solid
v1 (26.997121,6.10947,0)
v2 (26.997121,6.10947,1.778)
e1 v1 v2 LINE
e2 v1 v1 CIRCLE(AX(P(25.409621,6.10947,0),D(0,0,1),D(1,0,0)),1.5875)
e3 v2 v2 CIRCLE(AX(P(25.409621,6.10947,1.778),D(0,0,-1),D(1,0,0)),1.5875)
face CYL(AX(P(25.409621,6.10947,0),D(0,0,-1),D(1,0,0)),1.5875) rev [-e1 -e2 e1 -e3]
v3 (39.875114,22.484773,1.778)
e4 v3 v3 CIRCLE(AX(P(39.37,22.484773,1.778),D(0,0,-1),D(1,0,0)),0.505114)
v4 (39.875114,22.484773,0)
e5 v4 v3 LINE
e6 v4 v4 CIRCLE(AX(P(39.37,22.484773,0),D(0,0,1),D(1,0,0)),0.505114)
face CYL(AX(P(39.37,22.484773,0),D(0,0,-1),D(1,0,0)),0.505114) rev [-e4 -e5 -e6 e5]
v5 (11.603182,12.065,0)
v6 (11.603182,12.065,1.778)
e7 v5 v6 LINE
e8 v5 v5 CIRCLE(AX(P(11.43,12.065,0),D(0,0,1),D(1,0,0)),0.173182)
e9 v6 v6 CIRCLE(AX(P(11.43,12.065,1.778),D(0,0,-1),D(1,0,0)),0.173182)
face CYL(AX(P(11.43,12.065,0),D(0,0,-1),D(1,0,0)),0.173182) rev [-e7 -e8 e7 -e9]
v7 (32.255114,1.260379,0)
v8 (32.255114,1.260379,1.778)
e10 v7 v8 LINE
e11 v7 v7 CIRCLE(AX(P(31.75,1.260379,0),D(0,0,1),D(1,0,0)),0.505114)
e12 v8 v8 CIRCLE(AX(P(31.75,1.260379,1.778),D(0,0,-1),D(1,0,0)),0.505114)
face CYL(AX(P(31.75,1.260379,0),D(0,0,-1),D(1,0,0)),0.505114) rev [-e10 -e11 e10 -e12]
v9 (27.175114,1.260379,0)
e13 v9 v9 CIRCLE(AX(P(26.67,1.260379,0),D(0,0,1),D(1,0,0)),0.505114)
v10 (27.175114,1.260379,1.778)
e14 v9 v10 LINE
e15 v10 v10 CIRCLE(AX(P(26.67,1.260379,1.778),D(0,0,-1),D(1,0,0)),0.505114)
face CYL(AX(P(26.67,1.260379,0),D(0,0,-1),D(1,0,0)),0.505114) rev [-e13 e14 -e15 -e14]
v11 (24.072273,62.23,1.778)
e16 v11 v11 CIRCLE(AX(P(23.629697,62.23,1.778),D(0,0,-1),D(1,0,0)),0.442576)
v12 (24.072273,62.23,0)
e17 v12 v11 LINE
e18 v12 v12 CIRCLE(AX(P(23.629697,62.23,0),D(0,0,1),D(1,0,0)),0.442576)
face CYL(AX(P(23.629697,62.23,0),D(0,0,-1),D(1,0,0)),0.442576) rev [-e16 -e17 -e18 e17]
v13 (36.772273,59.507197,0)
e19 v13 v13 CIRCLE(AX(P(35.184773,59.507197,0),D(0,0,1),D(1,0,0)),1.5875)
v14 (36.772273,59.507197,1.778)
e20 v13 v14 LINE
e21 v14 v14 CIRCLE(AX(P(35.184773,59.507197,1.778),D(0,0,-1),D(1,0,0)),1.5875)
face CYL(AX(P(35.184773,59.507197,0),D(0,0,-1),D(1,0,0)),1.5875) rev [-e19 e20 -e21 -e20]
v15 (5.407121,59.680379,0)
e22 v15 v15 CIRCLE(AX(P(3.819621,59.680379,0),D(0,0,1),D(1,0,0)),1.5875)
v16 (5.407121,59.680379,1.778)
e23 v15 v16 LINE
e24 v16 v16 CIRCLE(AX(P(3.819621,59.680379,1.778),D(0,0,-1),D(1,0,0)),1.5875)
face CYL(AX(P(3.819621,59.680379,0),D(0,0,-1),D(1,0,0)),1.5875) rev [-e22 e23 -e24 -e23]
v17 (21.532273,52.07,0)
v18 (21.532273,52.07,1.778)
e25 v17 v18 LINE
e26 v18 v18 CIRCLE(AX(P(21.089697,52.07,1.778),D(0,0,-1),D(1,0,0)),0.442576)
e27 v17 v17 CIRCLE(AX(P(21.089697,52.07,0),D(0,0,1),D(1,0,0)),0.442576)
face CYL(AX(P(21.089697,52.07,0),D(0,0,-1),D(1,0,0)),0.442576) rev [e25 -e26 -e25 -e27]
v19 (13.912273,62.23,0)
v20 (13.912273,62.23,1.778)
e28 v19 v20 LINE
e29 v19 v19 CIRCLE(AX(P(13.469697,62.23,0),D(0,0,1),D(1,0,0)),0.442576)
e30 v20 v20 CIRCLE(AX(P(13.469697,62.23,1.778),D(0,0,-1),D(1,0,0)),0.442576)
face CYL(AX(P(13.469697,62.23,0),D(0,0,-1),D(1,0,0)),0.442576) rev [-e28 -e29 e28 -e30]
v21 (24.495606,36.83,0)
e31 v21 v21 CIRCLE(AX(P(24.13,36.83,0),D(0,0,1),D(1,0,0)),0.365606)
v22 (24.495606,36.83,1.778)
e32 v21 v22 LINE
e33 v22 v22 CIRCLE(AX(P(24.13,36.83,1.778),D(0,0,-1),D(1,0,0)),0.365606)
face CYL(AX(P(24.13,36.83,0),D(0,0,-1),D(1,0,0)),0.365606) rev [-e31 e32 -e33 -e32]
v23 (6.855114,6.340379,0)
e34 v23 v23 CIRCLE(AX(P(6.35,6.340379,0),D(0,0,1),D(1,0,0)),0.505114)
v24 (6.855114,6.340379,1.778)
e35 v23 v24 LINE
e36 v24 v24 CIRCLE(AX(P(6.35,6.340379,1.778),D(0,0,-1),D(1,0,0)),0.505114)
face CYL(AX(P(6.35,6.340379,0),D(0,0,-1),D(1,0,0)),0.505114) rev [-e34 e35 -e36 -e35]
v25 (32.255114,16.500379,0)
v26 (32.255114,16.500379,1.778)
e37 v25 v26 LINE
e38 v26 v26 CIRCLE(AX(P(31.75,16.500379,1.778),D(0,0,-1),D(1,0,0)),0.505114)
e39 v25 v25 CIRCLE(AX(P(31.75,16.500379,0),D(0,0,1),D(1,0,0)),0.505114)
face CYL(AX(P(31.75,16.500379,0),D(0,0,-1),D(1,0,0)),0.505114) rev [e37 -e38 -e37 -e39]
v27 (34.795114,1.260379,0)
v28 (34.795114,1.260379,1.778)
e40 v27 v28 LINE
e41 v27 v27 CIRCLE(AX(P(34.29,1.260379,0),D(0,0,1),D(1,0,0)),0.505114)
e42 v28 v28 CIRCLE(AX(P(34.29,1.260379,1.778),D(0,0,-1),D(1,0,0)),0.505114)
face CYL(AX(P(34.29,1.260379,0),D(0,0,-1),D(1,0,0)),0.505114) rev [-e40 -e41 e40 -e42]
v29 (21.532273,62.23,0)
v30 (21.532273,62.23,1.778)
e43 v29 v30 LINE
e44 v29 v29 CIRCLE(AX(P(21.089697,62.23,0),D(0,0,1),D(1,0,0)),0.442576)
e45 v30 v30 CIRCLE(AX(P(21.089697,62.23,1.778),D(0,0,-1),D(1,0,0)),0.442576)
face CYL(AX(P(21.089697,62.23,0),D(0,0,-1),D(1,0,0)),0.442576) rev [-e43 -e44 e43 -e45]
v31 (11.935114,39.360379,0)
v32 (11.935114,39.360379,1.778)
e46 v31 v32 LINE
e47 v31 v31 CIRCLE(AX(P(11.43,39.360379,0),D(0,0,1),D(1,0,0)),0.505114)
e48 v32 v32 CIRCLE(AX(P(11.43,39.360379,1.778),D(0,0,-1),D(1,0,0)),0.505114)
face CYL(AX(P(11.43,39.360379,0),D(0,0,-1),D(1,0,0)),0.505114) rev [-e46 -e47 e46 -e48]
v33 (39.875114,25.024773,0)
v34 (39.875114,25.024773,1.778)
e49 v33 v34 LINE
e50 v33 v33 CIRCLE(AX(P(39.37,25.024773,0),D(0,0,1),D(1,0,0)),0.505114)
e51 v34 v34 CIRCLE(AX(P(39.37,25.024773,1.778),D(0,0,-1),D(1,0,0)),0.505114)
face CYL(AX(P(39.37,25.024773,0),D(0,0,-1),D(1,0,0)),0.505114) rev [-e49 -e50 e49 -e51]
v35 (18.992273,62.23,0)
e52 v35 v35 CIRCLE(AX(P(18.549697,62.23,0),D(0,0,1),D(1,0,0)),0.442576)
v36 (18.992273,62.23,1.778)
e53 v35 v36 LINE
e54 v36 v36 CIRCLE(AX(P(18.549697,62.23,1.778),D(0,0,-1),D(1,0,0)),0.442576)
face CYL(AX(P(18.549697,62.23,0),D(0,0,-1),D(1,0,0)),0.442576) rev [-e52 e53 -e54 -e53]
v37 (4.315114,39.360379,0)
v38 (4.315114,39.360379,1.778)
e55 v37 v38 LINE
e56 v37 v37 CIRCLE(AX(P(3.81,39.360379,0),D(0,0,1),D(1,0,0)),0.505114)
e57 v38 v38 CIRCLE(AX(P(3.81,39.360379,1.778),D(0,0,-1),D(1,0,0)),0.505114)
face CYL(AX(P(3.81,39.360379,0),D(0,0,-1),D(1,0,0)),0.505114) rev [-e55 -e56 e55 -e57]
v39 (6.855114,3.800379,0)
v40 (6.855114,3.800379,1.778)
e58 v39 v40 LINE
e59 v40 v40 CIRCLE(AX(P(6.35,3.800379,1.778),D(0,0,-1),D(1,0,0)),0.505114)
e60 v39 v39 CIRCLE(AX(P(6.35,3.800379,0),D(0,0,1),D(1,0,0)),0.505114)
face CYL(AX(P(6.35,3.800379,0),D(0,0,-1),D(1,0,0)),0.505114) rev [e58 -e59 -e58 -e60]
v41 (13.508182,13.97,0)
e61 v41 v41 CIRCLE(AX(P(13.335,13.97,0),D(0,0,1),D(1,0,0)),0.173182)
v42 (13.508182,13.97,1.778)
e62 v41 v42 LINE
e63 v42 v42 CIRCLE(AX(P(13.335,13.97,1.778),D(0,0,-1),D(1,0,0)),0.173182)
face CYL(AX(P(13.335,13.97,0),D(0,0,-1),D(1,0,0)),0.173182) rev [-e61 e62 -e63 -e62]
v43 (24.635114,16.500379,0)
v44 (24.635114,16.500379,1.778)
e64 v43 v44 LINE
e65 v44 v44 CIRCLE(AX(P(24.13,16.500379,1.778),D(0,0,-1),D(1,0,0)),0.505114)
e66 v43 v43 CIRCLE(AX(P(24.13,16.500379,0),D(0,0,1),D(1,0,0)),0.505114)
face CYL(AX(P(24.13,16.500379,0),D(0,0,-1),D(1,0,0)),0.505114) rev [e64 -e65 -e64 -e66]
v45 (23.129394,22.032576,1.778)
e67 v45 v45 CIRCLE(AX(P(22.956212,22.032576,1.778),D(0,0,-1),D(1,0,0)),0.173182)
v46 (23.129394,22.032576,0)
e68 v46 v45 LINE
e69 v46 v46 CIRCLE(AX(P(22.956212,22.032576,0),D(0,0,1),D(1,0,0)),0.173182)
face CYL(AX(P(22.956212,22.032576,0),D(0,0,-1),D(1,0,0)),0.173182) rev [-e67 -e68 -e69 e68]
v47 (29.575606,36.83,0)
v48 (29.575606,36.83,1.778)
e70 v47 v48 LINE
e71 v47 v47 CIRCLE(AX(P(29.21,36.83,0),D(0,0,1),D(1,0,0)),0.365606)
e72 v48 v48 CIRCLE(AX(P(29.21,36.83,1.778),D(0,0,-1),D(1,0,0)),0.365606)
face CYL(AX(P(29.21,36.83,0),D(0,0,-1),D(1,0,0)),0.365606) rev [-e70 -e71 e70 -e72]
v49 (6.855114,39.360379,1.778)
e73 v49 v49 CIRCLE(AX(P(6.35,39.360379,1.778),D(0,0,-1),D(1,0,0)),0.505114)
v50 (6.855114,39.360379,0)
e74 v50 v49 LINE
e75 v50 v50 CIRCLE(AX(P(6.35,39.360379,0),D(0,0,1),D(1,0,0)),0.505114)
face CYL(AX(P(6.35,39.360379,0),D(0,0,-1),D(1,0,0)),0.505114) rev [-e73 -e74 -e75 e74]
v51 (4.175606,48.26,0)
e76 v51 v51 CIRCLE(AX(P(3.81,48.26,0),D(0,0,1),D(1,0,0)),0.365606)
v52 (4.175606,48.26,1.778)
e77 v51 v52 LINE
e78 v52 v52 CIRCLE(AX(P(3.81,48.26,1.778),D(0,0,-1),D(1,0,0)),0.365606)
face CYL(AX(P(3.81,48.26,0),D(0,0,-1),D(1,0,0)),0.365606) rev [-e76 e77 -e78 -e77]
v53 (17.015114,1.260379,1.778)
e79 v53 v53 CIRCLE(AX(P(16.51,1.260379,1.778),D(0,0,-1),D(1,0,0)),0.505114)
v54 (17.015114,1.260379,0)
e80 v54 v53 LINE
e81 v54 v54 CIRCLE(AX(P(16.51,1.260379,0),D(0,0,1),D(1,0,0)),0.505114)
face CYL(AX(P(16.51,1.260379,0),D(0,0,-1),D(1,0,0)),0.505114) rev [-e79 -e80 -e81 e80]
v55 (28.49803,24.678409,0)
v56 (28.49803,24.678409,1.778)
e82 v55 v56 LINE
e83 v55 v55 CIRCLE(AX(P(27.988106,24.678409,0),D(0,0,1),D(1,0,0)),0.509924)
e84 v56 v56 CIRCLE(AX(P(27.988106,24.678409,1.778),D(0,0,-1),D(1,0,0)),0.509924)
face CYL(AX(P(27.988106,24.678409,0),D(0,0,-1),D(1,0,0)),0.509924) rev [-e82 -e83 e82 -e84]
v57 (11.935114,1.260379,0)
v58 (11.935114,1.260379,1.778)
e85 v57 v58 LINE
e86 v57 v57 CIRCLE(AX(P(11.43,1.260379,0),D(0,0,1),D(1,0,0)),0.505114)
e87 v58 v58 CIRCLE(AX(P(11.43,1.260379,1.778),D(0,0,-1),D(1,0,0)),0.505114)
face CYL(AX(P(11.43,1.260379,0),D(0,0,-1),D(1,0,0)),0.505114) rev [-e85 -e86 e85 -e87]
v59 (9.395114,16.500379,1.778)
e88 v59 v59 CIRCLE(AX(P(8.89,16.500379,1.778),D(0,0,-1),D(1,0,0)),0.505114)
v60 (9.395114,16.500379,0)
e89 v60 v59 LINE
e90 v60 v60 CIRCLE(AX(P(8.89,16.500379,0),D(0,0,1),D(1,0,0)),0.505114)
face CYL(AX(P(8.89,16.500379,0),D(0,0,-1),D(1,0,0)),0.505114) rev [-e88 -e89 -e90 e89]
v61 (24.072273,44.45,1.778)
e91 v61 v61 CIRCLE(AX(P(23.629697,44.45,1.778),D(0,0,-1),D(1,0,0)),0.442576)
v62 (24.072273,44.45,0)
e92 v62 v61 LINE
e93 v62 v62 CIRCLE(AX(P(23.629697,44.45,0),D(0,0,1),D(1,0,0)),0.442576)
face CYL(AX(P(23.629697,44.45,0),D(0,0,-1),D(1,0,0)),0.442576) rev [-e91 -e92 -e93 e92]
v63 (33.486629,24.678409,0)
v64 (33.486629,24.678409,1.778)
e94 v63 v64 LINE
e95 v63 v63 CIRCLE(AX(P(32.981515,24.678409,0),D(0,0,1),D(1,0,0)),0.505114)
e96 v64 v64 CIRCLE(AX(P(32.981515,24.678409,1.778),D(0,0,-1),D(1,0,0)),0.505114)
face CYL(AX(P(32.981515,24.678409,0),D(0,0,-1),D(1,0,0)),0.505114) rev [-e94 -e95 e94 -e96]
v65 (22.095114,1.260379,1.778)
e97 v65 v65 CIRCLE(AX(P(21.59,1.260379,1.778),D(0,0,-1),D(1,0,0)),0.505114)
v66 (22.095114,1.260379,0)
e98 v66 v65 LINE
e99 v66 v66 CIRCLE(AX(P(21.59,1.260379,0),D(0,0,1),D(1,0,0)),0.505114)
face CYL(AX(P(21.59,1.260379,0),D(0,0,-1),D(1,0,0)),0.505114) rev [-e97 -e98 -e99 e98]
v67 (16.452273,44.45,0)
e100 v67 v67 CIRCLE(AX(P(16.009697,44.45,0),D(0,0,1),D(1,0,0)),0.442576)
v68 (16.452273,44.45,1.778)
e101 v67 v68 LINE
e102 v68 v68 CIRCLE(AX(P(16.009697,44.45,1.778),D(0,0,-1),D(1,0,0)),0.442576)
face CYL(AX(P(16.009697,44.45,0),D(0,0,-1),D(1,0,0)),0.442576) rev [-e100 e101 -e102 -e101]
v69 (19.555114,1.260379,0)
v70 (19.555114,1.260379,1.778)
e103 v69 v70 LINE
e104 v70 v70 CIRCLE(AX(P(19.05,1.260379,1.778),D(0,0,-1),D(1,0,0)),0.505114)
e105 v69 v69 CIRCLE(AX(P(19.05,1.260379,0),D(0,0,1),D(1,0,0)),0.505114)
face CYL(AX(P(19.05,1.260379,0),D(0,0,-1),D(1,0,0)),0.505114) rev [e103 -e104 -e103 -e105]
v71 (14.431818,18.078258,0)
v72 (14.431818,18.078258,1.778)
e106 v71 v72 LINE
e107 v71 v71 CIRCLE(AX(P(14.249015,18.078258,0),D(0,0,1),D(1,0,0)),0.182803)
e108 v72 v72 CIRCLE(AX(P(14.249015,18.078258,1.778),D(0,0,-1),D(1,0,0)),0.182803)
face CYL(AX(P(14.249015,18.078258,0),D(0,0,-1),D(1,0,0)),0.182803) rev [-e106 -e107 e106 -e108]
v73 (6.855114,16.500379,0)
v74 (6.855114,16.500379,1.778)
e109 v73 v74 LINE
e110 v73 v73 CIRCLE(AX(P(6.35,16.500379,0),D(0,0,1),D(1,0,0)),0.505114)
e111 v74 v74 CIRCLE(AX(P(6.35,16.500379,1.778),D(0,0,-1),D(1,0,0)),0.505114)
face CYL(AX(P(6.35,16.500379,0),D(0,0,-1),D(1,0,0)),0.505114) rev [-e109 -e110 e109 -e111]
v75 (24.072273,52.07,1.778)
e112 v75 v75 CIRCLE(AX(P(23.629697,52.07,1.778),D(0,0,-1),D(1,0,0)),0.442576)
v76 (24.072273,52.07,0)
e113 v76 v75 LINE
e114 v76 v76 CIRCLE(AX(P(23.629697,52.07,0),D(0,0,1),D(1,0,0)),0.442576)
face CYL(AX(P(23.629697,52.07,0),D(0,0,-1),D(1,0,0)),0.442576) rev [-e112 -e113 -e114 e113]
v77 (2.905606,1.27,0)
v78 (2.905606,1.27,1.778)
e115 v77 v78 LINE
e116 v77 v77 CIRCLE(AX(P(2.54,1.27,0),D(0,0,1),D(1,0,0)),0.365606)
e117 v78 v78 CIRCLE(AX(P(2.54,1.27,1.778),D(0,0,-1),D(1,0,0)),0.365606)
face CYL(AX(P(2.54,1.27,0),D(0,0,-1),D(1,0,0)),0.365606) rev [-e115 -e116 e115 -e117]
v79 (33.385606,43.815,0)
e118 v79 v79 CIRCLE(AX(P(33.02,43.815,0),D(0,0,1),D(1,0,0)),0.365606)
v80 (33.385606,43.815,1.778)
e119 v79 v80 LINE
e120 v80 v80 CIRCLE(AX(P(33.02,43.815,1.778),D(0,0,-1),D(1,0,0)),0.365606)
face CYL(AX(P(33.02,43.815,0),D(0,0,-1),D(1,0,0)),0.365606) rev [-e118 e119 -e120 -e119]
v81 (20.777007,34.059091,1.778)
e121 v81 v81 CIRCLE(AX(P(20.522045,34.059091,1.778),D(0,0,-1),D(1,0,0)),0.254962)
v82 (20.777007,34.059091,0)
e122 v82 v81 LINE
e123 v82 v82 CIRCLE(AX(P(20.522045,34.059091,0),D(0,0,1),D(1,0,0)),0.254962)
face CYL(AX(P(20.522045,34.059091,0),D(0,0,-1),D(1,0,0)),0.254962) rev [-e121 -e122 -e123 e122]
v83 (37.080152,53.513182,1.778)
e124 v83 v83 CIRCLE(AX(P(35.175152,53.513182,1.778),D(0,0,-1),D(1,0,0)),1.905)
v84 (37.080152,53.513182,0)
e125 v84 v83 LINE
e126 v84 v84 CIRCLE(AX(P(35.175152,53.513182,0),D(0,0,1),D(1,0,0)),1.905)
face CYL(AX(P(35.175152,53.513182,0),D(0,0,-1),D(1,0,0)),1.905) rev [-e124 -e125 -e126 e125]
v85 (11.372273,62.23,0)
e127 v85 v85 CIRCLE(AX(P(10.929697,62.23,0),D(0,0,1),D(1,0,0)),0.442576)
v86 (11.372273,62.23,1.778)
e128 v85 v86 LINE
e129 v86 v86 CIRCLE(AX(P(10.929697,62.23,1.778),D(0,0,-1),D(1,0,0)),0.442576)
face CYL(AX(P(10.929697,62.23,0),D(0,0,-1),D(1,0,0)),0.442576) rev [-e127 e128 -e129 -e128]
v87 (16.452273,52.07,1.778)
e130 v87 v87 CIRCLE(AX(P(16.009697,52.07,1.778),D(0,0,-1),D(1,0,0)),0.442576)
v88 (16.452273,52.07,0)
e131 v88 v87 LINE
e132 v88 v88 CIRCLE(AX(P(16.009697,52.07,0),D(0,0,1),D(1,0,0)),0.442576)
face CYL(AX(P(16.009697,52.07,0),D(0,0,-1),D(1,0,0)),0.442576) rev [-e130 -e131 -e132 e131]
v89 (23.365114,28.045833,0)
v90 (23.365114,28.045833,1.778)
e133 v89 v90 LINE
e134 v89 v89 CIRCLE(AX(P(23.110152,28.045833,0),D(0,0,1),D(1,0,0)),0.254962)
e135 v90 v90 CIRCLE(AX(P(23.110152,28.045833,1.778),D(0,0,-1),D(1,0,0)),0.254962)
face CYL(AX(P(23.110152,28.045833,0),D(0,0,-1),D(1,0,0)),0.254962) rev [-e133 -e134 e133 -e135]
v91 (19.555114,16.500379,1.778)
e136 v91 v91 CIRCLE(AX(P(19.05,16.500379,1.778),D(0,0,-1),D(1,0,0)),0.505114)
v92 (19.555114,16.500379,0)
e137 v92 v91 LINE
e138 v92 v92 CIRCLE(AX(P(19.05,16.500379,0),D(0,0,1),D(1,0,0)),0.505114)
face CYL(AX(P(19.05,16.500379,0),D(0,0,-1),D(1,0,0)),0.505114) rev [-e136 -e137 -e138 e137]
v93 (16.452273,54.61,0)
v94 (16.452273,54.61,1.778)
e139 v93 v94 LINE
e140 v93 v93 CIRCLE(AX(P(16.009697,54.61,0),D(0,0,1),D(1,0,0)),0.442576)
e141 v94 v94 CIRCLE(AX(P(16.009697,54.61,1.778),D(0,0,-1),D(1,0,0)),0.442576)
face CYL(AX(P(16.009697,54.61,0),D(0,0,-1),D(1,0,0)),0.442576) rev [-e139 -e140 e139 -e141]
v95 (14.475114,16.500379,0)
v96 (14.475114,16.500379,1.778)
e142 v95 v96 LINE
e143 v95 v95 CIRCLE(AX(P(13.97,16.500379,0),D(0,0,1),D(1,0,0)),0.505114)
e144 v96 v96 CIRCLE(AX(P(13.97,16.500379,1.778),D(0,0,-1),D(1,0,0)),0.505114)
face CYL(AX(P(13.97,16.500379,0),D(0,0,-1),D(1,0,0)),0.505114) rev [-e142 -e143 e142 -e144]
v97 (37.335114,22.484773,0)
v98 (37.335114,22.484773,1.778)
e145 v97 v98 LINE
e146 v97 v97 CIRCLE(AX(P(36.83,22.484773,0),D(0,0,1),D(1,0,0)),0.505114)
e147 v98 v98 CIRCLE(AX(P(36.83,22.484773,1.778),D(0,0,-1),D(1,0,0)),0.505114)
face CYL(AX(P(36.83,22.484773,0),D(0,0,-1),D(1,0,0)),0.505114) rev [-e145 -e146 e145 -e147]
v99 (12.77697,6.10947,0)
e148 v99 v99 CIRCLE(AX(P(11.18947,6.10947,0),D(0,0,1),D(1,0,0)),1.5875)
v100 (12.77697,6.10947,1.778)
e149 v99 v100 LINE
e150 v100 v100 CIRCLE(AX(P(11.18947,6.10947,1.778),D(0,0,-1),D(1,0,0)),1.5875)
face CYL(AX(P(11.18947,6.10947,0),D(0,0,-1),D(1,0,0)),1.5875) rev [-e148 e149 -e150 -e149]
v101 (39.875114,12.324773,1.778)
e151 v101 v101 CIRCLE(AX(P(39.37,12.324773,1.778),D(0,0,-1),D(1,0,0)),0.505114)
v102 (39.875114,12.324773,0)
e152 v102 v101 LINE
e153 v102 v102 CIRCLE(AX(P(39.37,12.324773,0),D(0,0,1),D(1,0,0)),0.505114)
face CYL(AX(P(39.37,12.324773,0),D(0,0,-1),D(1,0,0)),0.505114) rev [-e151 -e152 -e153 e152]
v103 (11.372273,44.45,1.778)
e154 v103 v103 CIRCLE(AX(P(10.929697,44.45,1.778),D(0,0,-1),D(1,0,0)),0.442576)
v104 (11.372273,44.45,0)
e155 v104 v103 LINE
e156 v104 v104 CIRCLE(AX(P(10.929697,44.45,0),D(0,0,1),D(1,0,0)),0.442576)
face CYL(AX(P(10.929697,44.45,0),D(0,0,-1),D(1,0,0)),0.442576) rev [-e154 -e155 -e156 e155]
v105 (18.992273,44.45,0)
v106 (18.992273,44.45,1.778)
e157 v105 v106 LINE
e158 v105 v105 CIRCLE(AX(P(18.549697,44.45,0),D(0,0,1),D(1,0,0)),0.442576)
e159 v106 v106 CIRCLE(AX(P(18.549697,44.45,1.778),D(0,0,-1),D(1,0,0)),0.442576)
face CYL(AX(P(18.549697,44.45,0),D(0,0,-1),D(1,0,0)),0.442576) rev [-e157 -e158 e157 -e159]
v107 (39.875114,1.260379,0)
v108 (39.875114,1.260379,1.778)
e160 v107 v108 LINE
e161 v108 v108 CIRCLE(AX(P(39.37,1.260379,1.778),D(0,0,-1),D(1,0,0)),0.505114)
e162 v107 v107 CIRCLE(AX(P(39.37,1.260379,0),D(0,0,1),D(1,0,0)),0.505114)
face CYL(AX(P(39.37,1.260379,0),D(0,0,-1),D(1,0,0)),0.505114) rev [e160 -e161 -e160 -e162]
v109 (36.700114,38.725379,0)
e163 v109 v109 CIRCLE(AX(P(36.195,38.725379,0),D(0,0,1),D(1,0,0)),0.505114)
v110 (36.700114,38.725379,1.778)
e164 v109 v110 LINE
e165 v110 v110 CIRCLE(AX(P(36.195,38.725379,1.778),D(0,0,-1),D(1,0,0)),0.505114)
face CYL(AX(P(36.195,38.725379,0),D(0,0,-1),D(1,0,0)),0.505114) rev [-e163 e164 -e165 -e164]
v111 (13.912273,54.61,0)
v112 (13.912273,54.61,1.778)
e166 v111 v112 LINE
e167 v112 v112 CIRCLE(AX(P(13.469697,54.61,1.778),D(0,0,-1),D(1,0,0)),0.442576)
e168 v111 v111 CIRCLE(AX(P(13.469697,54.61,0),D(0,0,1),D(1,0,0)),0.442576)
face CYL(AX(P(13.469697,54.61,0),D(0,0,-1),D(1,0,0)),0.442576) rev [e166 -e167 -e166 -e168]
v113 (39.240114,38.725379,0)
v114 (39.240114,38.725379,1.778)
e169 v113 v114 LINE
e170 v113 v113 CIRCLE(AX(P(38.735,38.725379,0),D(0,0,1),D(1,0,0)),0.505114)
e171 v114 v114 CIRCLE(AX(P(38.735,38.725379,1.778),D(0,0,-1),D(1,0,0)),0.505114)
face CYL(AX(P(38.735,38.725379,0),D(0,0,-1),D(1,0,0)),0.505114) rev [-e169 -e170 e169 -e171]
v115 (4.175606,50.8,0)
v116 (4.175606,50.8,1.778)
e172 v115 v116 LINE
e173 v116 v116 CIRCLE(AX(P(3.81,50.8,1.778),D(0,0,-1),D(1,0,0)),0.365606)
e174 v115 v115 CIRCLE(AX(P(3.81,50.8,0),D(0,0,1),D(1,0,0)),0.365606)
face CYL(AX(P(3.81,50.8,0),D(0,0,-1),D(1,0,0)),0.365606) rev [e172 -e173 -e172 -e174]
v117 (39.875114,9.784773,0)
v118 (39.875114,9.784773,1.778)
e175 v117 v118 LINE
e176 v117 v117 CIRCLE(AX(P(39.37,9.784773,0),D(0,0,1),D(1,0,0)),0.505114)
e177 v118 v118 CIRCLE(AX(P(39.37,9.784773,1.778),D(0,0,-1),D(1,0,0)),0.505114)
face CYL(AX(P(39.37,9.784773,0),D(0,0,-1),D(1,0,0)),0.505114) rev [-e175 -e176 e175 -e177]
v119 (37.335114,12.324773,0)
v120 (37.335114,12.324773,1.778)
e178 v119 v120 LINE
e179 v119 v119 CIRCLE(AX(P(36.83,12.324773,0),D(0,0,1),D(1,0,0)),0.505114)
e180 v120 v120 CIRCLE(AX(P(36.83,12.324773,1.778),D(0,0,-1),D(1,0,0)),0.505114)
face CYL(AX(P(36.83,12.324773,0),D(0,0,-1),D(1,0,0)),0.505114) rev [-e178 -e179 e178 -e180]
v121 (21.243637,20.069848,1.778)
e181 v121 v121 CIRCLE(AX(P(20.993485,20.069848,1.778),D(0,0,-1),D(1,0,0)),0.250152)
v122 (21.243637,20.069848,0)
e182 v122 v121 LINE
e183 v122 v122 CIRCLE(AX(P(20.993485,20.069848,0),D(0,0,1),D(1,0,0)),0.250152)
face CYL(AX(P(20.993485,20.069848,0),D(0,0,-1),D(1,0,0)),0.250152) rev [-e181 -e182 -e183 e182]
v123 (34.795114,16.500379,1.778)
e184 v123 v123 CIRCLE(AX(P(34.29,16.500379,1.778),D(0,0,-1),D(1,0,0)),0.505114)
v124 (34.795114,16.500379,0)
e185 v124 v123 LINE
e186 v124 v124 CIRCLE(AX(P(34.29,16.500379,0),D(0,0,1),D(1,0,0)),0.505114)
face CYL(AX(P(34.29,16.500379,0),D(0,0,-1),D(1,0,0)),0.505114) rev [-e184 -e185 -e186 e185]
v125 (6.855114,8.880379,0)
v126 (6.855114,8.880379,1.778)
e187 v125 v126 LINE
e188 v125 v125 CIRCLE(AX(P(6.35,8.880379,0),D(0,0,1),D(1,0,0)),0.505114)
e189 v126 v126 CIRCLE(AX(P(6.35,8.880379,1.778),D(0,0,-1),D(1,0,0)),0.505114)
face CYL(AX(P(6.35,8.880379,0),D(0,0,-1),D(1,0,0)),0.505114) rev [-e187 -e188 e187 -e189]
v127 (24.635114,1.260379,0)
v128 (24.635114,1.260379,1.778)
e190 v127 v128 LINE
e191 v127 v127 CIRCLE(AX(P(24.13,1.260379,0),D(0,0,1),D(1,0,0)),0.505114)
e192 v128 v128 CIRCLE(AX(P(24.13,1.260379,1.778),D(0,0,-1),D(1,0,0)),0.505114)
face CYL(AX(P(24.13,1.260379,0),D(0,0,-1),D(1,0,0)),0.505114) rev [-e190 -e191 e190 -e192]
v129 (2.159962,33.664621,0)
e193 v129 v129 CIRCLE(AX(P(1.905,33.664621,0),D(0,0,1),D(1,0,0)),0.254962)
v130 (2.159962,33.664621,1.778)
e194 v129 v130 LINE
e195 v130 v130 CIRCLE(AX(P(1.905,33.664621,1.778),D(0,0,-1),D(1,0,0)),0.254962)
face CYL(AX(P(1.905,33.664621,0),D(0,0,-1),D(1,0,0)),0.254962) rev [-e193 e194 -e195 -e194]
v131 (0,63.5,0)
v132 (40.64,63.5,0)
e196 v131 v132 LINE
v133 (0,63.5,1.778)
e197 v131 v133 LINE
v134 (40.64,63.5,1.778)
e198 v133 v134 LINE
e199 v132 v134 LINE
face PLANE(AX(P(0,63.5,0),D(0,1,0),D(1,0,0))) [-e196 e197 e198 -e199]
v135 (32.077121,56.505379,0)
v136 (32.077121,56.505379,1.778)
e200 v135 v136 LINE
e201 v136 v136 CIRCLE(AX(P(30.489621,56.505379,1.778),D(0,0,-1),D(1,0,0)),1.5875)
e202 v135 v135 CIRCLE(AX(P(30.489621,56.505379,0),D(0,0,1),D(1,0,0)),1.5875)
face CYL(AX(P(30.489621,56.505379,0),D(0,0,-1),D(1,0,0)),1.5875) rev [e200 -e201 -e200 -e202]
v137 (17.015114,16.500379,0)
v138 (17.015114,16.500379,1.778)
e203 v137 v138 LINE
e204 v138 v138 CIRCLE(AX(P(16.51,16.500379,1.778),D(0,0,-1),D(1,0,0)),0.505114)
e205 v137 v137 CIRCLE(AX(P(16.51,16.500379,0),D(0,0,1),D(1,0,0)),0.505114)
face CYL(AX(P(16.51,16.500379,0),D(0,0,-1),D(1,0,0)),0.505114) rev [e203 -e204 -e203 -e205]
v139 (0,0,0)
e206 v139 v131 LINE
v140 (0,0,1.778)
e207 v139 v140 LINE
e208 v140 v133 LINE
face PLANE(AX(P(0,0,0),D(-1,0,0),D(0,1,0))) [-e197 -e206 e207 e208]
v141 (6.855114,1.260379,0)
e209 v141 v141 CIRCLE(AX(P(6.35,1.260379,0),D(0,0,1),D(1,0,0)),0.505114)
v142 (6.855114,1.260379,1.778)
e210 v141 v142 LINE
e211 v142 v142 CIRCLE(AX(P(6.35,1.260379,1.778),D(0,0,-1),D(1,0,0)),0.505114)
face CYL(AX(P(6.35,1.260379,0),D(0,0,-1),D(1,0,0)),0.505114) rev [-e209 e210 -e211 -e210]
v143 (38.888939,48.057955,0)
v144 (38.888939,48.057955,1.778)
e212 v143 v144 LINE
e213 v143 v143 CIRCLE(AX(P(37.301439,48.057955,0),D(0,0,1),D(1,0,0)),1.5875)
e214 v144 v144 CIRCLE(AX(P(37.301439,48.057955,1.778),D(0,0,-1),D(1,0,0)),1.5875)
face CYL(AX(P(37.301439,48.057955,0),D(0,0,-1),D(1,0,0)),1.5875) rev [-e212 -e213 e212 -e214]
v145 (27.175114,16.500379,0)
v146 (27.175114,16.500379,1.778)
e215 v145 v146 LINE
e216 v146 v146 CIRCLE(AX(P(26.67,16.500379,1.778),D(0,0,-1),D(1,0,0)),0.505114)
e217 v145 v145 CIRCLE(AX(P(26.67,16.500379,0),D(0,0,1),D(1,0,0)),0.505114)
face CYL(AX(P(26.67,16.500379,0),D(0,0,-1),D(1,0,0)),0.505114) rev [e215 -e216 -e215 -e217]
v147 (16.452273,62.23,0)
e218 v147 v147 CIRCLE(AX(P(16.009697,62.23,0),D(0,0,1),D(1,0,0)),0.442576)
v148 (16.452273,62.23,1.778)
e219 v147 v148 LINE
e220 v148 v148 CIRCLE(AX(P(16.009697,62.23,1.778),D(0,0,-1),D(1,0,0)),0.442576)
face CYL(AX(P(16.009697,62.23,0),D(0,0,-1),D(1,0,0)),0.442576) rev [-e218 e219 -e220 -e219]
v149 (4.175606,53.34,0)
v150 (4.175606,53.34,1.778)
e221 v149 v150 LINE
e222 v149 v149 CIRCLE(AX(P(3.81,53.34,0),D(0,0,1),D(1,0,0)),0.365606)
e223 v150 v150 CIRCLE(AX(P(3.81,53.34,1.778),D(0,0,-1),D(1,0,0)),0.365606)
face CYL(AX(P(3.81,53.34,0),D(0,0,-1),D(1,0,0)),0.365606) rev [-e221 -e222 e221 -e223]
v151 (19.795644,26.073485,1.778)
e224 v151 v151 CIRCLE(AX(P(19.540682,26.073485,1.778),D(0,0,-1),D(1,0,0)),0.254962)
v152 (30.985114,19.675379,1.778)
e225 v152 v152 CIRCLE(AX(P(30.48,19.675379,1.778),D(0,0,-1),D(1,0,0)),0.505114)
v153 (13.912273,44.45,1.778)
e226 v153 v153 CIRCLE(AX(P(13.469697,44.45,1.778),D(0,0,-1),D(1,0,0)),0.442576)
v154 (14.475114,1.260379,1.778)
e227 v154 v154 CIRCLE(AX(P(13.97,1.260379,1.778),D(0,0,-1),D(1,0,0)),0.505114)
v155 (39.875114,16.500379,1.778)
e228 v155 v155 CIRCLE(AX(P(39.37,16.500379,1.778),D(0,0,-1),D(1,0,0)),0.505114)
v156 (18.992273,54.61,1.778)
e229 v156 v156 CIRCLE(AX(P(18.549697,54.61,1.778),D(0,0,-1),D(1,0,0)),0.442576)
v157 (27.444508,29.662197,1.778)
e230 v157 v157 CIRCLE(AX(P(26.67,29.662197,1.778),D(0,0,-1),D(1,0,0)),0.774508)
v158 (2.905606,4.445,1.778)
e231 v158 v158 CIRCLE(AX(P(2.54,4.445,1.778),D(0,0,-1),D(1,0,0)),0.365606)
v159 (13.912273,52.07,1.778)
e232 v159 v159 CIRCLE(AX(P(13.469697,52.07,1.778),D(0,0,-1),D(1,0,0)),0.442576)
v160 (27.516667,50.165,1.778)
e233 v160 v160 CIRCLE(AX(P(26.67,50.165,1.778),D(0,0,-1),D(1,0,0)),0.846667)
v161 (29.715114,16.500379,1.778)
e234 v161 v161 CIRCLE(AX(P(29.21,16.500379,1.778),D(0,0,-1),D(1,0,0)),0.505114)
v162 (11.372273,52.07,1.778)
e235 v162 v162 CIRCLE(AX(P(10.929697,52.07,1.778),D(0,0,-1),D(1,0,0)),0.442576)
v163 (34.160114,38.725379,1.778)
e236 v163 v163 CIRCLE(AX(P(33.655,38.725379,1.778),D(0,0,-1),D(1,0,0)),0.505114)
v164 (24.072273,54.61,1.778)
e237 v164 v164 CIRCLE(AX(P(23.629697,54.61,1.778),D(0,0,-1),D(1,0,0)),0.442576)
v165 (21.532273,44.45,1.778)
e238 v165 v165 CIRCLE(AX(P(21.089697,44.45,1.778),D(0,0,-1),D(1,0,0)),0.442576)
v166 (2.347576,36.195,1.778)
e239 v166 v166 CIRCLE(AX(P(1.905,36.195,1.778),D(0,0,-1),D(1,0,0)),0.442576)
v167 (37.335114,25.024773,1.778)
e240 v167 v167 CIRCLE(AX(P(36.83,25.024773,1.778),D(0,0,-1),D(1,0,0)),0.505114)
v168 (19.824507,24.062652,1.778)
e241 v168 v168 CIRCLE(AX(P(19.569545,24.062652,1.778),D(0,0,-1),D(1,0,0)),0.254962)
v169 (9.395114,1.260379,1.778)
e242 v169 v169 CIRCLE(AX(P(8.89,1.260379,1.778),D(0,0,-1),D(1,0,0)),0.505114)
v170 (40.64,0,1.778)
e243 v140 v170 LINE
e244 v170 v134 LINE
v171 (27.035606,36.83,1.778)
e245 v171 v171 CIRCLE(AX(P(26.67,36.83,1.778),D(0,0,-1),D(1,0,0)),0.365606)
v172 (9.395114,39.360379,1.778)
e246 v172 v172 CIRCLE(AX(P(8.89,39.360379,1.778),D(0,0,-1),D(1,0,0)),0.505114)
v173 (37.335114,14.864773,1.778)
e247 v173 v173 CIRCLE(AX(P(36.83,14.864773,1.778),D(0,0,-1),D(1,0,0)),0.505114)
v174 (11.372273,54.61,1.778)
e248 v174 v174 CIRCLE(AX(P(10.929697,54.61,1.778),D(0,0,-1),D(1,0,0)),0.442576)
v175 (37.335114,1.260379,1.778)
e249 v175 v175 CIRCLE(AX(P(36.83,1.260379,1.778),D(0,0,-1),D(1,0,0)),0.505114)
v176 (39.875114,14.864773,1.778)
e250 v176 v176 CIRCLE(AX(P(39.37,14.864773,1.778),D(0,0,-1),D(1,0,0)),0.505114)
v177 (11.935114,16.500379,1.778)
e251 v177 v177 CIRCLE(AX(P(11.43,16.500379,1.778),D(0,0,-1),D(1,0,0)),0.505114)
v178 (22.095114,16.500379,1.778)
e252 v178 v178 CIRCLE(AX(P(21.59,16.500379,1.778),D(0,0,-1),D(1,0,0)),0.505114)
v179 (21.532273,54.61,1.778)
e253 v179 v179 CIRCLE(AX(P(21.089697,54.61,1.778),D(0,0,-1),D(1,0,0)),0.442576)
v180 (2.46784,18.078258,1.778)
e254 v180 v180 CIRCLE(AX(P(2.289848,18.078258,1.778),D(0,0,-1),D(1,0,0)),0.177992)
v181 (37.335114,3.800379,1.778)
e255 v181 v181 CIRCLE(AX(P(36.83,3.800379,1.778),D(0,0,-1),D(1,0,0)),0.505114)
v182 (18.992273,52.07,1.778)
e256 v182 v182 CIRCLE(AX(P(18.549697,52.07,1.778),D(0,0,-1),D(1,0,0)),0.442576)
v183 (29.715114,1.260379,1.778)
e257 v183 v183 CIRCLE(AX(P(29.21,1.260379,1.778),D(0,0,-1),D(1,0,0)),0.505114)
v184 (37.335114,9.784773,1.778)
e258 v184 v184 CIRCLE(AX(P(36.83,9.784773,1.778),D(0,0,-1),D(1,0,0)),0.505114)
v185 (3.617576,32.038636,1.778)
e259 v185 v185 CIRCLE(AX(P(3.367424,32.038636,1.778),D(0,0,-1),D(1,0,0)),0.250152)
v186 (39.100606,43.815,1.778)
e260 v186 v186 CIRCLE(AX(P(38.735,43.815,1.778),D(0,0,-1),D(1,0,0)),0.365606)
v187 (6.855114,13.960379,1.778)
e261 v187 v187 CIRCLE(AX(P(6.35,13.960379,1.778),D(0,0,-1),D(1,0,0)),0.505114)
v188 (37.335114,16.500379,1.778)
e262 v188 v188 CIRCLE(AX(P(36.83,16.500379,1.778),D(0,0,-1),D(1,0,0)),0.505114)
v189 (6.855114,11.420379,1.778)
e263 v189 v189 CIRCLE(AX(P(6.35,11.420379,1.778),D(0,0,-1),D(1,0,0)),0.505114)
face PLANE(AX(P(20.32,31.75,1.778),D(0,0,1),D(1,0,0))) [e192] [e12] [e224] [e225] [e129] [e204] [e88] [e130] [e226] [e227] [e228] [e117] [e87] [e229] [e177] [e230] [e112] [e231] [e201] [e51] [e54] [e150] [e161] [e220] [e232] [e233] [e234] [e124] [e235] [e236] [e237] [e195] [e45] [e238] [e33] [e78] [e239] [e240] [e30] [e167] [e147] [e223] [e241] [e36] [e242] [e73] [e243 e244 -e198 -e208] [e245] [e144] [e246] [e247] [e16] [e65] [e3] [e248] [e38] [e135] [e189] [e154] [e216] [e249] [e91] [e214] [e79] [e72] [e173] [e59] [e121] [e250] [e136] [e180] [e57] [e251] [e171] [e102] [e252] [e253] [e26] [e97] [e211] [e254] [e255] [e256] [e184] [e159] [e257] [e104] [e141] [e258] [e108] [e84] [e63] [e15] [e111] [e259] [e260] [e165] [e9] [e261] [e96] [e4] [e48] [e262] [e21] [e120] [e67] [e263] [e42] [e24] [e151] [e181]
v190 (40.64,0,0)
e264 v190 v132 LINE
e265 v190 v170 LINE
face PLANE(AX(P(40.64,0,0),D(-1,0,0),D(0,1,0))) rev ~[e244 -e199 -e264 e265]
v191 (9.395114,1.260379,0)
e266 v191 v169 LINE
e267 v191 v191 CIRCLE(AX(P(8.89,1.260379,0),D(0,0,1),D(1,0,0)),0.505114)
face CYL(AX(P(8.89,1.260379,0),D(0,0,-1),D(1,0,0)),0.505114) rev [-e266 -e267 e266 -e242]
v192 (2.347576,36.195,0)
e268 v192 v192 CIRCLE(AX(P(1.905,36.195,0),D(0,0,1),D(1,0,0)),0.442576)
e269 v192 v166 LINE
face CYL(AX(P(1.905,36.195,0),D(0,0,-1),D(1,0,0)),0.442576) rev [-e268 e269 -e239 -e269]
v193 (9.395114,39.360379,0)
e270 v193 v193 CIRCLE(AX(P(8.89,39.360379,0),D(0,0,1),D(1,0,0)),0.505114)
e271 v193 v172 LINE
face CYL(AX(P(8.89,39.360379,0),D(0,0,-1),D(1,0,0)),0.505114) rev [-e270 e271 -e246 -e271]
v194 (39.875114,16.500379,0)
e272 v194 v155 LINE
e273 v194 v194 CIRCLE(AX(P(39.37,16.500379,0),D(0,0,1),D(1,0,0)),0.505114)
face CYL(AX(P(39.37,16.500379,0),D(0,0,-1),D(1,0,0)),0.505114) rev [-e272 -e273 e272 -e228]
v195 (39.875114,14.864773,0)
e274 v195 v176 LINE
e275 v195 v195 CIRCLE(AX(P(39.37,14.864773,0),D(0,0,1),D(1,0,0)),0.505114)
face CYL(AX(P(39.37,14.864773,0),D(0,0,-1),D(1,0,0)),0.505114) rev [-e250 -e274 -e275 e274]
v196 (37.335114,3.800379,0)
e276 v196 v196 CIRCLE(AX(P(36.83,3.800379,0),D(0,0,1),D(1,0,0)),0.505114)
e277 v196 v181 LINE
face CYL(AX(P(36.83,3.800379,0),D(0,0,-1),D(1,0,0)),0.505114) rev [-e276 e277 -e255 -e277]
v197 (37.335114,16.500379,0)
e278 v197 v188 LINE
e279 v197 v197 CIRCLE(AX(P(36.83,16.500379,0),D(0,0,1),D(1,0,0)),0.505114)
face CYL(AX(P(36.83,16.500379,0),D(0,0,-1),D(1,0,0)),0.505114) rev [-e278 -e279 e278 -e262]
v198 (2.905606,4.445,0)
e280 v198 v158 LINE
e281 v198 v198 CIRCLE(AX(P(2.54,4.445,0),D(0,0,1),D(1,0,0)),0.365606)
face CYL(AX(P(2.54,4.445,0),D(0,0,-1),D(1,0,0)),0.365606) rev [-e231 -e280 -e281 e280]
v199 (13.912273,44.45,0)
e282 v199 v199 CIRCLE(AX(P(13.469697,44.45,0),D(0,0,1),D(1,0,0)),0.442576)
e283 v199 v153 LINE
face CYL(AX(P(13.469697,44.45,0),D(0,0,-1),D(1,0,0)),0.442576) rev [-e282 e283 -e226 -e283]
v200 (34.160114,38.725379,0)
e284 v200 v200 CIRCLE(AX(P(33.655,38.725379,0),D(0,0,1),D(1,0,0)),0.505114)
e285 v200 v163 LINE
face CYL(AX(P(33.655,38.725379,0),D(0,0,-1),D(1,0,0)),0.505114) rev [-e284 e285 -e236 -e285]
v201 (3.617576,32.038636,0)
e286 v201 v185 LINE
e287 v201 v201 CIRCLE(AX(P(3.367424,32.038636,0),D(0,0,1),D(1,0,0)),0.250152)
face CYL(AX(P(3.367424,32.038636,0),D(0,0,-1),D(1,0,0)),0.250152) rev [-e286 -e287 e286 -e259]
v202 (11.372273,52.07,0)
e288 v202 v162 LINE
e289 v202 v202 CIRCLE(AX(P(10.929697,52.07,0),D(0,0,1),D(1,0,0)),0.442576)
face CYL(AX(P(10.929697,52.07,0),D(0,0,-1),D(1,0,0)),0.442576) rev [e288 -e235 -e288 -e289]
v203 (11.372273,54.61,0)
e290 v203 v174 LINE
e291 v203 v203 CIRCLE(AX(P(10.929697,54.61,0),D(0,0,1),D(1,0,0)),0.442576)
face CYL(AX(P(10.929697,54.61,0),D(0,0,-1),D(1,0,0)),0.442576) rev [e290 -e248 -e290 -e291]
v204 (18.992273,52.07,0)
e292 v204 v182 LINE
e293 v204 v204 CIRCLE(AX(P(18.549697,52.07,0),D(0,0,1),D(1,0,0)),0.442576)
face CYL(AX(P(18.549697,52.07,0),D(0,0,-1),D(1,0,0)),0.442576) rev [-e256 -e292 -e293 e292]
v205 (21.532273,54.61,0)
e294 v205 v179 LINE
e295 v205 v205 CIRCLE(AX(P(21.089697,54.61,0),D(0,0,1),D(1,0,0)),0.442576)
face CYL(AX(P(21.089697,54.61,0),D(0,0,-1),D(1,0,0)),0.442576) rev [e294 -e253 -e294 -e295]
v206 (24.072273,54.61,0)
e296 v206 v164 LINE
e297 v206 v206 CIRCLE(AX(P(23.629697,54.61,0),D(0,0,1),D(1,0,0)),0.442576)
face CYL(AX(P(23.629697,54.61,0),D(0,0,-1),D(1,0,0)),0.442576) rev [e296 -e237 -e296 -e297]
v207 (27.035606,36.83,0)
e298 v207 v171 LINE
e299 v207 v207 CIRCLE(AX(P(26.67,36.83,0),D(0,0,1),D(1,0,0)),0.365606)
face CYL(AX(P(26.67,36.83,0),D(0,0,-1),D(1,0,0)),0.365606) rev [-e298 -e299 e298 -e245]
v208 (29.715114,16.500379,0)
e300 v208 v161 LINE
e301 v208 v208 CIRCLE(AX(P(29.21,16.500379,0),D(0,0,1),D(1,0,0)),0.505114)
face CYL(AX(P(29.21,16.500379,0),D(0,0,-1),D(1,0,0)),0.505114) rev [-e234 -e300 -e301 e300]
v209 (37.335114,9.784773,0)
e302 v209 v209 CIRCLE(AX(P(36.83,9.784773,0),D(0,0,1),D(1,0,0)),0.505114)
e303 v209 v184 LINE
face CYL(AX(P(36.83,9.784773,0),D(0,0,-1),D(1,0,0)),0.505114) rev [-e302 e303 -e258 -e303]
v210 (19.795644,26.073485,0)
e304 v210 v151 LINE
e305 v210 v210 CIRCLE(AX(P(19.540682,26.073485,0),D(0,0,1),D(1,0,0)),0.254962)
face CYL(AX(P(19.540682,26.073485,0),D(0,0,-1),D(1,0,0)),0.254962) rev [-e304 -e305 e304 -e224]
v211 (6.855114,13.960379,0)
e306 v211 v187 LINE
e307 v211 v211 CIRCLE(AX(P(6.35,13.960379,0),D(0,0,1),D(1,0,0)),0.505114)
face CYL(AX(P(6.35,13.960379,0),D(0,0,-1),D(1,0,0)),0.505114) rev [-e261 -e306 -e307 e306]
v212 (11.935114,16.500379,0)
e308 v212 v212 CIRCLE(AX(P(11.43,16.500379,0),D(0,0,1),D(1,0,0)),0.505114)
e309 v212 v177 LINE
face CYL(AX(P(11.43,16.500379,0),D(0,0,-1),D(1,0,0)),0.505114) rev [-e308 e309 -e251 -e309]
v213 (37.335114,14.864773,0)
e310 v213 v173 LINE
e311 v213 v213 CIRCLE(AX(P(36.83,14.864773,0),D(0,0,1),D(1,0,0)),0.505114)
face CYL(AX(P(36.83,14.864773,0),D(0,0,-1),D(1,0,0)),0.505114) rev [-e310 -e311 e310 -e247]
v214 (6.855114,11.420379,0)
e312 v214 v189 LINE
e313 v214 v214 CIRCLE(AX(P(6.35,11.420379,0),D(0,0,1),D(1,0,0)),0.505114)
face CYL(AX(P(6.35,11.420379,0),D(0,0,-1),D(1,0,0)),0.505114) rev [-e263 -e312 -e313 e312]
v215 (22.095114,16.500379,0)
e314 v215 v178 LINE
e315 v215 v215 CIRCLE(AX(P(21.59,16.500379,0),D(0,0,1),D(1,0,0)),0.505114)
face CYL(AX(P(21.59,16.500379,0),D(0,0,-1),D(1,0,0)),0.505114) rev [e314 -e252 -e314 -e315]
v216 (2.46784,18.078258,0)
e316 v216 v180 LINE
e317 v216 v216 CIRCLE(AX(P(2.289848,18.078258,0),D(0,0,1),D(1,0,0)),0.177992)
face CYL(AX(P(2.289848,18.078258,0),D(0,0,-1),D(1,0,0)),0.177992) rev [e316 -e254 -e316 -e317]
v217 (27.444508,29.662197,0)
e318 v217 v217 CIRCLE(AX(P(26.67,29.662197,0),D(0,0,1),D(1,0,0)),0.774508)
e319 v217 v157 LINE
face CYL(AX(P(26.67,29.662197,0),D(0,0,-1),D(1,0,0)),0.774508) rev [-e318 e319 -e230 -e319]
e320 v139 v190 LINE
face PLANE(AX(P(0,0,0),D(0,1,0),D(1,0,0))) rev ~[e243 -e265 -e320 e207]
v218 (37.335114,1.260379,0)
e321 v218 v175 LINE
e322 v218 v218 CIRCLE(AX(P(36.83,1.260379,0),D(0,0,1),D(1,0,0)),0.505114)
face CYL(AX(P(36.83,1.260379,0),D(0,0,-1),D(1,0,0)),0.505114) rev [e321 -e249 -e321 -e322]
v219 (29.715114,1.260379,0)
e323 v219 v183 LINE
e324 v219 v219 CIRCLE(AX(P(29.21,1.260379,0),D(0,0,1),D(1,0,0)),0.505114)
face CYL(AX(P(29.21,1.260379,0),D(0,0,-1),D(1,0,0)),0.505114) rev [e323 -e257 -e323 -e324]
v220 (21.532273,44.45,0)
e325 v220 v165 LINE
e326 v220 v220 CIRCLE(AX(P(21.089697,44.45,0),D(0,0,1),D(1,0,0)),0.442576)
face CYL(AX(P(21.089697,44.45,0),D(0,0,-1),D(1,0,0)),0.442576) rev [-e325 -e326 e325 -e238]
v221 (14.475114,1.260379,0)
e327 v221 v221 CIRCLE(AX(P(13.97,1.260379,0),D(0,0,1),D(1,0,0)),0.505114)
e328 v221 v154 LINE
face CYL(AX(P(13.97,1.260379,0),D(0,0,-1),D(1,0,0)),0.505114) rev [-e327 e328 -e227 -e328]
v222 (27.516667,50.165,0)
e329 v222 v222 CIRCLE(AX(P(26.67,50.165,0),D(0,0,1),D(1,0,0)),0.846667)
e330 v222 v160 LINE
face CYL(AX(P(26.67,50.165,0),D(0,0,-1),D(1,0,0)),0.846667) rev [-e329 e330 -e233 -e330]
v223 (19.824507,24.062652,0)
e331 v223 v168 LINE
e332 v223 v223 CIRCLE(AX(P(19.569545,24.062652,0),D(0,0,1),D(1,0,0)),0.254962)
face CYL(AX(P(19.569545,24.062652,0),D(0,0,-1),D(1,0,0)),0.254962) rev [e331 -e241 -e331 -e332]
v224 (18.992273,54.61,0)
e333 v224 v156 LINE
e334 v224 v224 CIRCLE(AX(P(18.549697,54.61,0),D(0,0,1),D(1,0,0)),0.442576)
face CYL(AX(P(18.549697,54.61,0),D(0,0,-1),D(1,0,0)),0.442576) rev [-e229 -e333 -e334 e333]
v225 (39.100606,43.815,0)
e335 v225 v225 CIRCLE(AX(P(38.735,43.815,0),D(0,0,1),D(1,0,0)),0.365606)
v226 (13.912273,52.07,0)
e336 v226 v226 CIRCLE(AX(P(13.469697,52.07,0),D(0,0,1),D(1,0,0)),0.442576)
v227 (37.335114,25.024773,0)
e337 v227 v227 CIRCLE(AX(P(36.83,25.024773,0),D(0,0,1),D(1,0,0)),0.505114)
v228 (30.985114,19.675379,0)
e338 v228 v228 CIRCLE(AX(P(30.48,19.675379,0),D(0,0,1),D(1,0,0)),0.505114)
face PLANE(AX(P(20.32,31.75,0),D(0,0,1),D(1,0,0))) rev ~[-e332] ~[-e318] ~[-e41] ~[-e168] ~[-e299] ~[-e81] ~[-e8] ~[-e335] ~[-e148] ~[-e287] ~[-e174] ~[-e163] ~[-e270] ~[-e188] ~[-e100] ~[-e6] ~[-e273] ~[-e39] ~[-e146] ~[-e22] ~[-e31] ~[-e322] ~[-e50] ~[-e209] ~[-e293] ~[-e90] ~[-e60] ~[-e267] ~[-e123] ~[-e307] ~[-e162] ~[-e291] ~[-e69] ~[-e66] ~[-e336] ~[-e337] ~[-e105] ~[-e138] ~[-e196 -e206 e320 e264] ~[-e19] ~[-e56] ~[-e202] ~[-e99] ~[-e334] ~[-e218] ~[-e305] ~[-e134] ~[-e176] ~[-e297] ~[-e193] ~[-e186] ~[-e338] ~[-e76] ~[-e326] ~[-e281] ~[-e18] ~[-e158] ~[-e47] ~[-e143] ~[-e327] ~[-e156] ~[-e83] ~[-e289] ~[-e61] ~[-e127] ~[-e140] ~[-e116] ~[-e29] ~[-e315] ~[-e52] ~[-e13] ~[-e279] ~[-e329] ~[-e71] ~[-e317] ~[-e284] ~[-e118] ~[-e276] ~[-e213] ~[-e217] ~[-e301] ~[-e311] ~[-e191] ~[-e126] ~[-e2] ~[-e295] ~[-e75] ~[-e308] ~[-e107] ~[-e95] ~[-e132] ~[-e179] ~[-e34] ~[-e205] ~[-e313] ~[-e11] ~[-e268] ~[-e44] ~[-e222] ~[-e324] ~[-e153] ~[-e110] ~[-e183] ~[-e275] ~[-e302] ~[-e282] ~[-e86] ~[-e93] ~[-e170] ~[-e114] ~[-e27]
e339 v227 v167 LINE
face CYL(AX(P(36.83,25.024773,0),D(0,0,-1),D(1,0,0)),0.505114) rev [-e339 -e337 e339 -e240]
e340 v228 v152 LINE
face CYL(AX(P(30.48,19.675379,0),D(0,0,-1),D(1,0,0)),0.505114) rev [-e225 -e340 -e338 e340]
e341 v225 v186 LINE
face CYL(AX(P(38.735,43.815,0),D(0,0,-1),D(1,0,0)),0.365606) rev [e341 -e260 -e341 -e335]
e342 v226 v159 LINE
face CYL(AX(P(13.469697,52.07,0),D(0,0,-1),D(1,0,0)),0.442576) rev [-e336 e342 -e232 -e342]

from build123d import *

# Parameters (mm, degrees)
MAINSKETCH_W    = 40.64
MAINSKETCH_H    = 63.5
MAIN_DEPTH      = 1.778
HOLESKETCH_R    = 1.5875
HOLESKETCH_R_2  = 1.905
HOLESKETCH_R_3  = 0.250152
HOLESKETCH_R_4  = 0.254962
HOLESKETCH_R_5  = 0.442576
HOLESKETCH_R_6  = 0.505114
HOLESKETCH_R_7  = 0.774508
HOLESKETCH_R_8  = 0.846667
HOLESKETCH_R_9  = 0.509924
HOLESKETCH_R_10 = 0.365606
HOLESKETCH_R_11 = 0.182803
HOLESKETCH_R_12 = 0.177992
HOLESKETCH_R_13 = 0.173182
HOLES_DEPTH     = 3.556


with BuildPart() as part:
    # MainSketch → Main (new body)
    with BuildSketch(Plane.XY):
        with Locations((20.32, 31.75)):
            Rectangle(MAINSKETCH_W, MAINSKETCH_H)
    extrude(amount=MAIN_DEPTH)

    # HoleSketch → Holes (cut)
    with BuildSketch(Plane.XY):
        with Locations((35.184773, 59.507197)):
            Circle(HOLESKETCH_R)
        with Locations((35.175152, 53.513182)):
            Circle(HOLESKETCH_R_2)
        with Locations((30.489621, 56.505379)):
            Circle(HOLESKETCH_R)
        with Locations((3.367424, 32.038636)):
            Circle(HOLESKETCH_R_3)
        with Locations((20.993485, 20.069848)):
            Circle(HOLESKETCH_R_3)
        with Locations((1.905, 33.664621)):
            Circle(HOLESKETCH_R_4)
        with Locations((20.522045, 34.059091)):
            Circle(HOLESKETCH_R_4)
        with Locations((19.540682, 26.073485)):
            Circle(HOLESKETCH_R_4)
        with Locations((19.569545, 24.062652)):
            Circle(HOLESKETCH_R_4)
        with Locations((23.629697, 62.23)):
            Circle(HOLESKETCH_R_5)
        with Locations((23.629697, 54.61)):
            Circle(HOLESKETCH_R_5)
        with Locations((21.089697, 62.23)):
            Circle(HOLESKETCH_R_5)
        with Locations((21.089697, 54.61)):
            Circle(HOLESKETCH_R_5)
        with Locations((18.549697, 62.23)):
            Circle(HOLESKETCH_R_5)
        with Locations((18.549697, 54.61)):
            Circle(HOLESKETCH_R_5)
        with Locations((16.009697, 62.23)):
            Circle(HOLESKETCH_R_5)
        with Locations((16.009697, 54.61)):
            Circle(HOLESKETCH_R_5)
        with Locations((13.469697, 62.23)):
            Circle(HOLESKETCH_R_5)
        with Locations((10.929697, 62.23)):
            Circle(HOLESKETCH_R_5)
        with Locations((13.469697, 54.61)):
            Circle(HOLESKETCH_R_5)
        with Locations((10.929697, 54.61)):
            Circle(HOLESKETCH_R_5)
        with Locations((6.35, 1.260379)):
            Circle(HOLESKETCH_R_6)
        with Locations((8.89, 1.260379)):
            Circle(HOLESKETCH_R_6)
        with Locations((11.43, 1.260379)):
            Circle(HOLESKETCH_R_6)
        with Locations((6.35, 16.500379)):
            Circle(HOLESKETCH_R_6)
        with Locations((6.35, 3.800379)):
            Circle(HOLESKETCH_R_6)
        with Locations((6.35, 6.340379)):
            Circle(HOLESKETCH_R_6)
        with Locations((6.35, 8.880379)):
            Circle(HOLESKETCH_R_6)
        with Locations((6.35, 11.420379)):
            Circle(HOLESKETCH_R_6)
        with Locations((6.35, 13.960379)):
            Circle(HOLESKETCH_R_6)
        with Locations((13.97, 1.260379)):
            Circle(HOLESKETCH_R_6)
        with Locations((16.51, 1.260379)):
            Circle(HOLESKETCH_R_6)
        with Locations((19.05, 1.260379)):
            Circle(HOLESKETCH_R_6)
        with Locations((21.59, 1.260379)):
            Circle(HOLESKETCH_R_6)
        with Locations((24.13, 1.260379)):
            Circle(HOLESKETCH_R_6)
        with Locations((26.67, 1.260379)):
            Circle(HOLESKETCH_R_6)
        with Locations((29.21, 1.260379)):
            Circle(HOLESKETCH_R_6)
        with Locations((31.75, 1.260379)):
            Circle(HOLESKETCH_R_6)
        with Locations((34.29, 1.260379)):
            Circle(HOLESKETCH_R_6)
        with Locations((36.83, 1.260379)):
            Circle(HOLESKETCH_R_6)
        with Locations((39.37, 1.260379)):
            Circle(HOLESKETCH_R_6)
        with Locations((8.89, 16.500379)):
            Circle(HOLESKETCH_R_6)
        with Locations((11.43, 16.500379)):
            Circle(HOLESKETCH_R_6)
        with Locations((13.97, 16.500379)):
            Circle(HOLESKETCH_R_6)
        with Locations((16.51, 16.500379)):
            Circle(HOLESKETCH_R_6)
        with Locations((19.05, 16.500379)):
            Circle(HOLESKETCH_R_6)
        with Locations((21.59, 16.500379)):
            Circle(HOLESKETCH_R_6)
        with Locations((24.13, 16.500379)):
            Circle(HOLESKETCH_R_6)
        with Locations((26.67, 16.500379)):
            Circle(HOLESKETCH_R_6)
        with Locations((29.21, 16.500379)):
            Circle(HOLESKETCH_R_6)
        with Locations((31.75, 16.500379)):
            Circle(HOLESKETCH_R_6)
        with Locations((34.29, 16.500379)):
            Circle(HOLESKETCH_R_6)
        with Locations((36.83, 16.500379)):
            Circle(HOLESKETCH_R_6)
        with Locations((39.37, 16.500379)):
            Circle(HOLESKETCH_R_6)
        with Locations((36.83, 3.800379)):
            Circle(HOLESKETCH_R_6)
        with Locations((25.409621, 6.10947)):
            Circle(HOLESKETCH_R)
        with Locations((3.819621, 59.680379)):
            Circle(HOLESKETCH_R)
        with Locations((11.18947, 6.10947)):
            Circle(HOLESKETCH_R)
        with Locations((26.67, 29.662197)):
            Circle(HOLESKETCH_R_7)
        with Locations((26.67, 50.165)):
            Circle(HOLESKETCH_R_8)
        with Locations((39.37, 12.324773)):
            Circle(HOLESKETCH_R_6)
        with Locations((39.37, 9.784773)):
            Circle(HOLESKETCH_R_6)
        with Locations((36.83, 9.784773)):
            Circle(HOLESKETCH_R_6)
        with Locations((39.37, 14.864773)):
            Circle(HOLESKETCH_R_6)
        with Locations((36.83, 12.324773)):
            Circle(HOLESKETCH_R_6)
        with Locations((36.83, 14.864773)):
            Circle(HOLESKETCH_R_6)
        with Locations((30.48, 19.675379)):
            Circle(HOLESKETCH_R_6)
        with Locations((32.981515, 24.678409)):
            Circle(HOLESKETCH_R_6)
        with Locations((27.988106, 24.678409)):
            Circle(HOLESKETCH_R_9)
        with Locations((39.37, 22.484773)):
            Circle(HOLESKETCH_R_6)
        with Locations((36.83, 22.484773)):
            Circle(HOLESKETCH_R_6)
        with Locations((39.37, 25.024773)):
            Circle(HOLESKETCH_R_6)
        with Locations((36.83, 25.024773)):
            Circle(HOLESKETCH_R_6)
        with Locations((38.735, 38.725379)):
            Circle(HOLESKETCH_R_6)
        with Locations((33.655, 38.725379)):
            Circle(HOLESKETCH_R_6)
        with Locations((36.195, 38.725379)):
            Circle(HOLESKETCH_R_6)
        with Locations((37.301439, 48.057955)):
            Circle(HOLESKETCH_R)
        with Locations((3.81, 48.26)):
            Circle(HOLESKETCH_R_10)
        with Locations((3.81, 53.34)):
            Circle(HOLESKETCH_R_10)
        with Locations((3.81, 50.8)):
            Circle(HOLESKETCH_R_10)
        with Locations((29.21, 36.83)):
            Circle(HOLESKETCH_R_10)
        with Locations((24.13, 36.83)):
            Circle(HOLESKETCH_R_10)
        with Locations((26.67, 36.83)):
            Circle(HOLESKETCH_R_10)
        with Locations((3.81, 39.360379)):
            Circle(HOLESKETCH_R_6)
        with Locations((6.35, 39.360379)):
            Circle(HOLESKETCH_R_6)
        with Locations((8.89, 39.360379)):
            Circle(HOLESKETCH_R_6)
        with Locations((11.43, 39.360379)):
            Circle(HOLESKETCH_R_6)
        with Locations((23.110152, 28.045833)):
            Circle(HOLESKETCH_R_4)
        with Locations((1.905, 36.195)):
            Circle(HOLESKETCH_R_5)
        with Locations((23.629697, 52.07)):
            Circle(HOLESKETCH_R_5)
        with Locations((23.629697, 44.45)):
            Circle(HOLESKETCH_R_5)
        with Locations((21.089697, 52.07)):
            Circle(HOLESKETCH_R_5)
        with Locations((21.089697, 44.45)):
            Circle(HOLESKETCH_R_5)
        with Locations((18.549697, 52.07)):
            Circle(HOLESKETCH_R_5)
        with Locations((18.549697, 44.45)):
            Circle(HOLESKETCH_R_5)
        with Locations((16.009697, 52.07)):
            Circle(HOLESKETCH_R_5)
        with Locations((16.009697, 44.45)):
            Circle(HOLESKETCH_R_5)
        with Locations((13.469697, 52.07)):
            Circle(HOLESKETCH_R_5)
        with Locations((10.929697, 52.07)):
            Circle(HOLESKETCH_R_5)
        with Locations((13.469697, 44.45)):
            Circle(HOLESKETCH_R_5)
        with Locations((10.929697, 44.45)):
            Circle(HOLESKETCH_R_5)
        with Locations((14.249015, 18.078258)):
            Circle(HOLESKETCH_R_11)
        with Locations((2.289848, 18.078258)):
            Circle(HOLESKETCH_R_12)
        with Locations((22.956212, 22.032576)):
            Circle(HOLESKETCH_R_13)
        with Locations((13.335, 13.97)):
            Circle(HOLESKETCH_R_13)
        with Locations((11.43, 12.065)):
            Circle(HOLESKETCH_R_13)
        with Locations((38.735, 43.815)):
            Circle(HOLESKETCH_R_10)
        with Locations((33.02, 43.815)):
            Circle(HOLESKETCH_R_10)
        with Locations((2.54, 1.27)):
            Circle(HOLESKETCH_R_10)
        with Locations((2.54, 4.445)):
            Circle(HOLESKETCH_R_10)
    extrude(amount=HOLES_DEPTH, mode=Mode.SUBTRACT)


solid = part.part
